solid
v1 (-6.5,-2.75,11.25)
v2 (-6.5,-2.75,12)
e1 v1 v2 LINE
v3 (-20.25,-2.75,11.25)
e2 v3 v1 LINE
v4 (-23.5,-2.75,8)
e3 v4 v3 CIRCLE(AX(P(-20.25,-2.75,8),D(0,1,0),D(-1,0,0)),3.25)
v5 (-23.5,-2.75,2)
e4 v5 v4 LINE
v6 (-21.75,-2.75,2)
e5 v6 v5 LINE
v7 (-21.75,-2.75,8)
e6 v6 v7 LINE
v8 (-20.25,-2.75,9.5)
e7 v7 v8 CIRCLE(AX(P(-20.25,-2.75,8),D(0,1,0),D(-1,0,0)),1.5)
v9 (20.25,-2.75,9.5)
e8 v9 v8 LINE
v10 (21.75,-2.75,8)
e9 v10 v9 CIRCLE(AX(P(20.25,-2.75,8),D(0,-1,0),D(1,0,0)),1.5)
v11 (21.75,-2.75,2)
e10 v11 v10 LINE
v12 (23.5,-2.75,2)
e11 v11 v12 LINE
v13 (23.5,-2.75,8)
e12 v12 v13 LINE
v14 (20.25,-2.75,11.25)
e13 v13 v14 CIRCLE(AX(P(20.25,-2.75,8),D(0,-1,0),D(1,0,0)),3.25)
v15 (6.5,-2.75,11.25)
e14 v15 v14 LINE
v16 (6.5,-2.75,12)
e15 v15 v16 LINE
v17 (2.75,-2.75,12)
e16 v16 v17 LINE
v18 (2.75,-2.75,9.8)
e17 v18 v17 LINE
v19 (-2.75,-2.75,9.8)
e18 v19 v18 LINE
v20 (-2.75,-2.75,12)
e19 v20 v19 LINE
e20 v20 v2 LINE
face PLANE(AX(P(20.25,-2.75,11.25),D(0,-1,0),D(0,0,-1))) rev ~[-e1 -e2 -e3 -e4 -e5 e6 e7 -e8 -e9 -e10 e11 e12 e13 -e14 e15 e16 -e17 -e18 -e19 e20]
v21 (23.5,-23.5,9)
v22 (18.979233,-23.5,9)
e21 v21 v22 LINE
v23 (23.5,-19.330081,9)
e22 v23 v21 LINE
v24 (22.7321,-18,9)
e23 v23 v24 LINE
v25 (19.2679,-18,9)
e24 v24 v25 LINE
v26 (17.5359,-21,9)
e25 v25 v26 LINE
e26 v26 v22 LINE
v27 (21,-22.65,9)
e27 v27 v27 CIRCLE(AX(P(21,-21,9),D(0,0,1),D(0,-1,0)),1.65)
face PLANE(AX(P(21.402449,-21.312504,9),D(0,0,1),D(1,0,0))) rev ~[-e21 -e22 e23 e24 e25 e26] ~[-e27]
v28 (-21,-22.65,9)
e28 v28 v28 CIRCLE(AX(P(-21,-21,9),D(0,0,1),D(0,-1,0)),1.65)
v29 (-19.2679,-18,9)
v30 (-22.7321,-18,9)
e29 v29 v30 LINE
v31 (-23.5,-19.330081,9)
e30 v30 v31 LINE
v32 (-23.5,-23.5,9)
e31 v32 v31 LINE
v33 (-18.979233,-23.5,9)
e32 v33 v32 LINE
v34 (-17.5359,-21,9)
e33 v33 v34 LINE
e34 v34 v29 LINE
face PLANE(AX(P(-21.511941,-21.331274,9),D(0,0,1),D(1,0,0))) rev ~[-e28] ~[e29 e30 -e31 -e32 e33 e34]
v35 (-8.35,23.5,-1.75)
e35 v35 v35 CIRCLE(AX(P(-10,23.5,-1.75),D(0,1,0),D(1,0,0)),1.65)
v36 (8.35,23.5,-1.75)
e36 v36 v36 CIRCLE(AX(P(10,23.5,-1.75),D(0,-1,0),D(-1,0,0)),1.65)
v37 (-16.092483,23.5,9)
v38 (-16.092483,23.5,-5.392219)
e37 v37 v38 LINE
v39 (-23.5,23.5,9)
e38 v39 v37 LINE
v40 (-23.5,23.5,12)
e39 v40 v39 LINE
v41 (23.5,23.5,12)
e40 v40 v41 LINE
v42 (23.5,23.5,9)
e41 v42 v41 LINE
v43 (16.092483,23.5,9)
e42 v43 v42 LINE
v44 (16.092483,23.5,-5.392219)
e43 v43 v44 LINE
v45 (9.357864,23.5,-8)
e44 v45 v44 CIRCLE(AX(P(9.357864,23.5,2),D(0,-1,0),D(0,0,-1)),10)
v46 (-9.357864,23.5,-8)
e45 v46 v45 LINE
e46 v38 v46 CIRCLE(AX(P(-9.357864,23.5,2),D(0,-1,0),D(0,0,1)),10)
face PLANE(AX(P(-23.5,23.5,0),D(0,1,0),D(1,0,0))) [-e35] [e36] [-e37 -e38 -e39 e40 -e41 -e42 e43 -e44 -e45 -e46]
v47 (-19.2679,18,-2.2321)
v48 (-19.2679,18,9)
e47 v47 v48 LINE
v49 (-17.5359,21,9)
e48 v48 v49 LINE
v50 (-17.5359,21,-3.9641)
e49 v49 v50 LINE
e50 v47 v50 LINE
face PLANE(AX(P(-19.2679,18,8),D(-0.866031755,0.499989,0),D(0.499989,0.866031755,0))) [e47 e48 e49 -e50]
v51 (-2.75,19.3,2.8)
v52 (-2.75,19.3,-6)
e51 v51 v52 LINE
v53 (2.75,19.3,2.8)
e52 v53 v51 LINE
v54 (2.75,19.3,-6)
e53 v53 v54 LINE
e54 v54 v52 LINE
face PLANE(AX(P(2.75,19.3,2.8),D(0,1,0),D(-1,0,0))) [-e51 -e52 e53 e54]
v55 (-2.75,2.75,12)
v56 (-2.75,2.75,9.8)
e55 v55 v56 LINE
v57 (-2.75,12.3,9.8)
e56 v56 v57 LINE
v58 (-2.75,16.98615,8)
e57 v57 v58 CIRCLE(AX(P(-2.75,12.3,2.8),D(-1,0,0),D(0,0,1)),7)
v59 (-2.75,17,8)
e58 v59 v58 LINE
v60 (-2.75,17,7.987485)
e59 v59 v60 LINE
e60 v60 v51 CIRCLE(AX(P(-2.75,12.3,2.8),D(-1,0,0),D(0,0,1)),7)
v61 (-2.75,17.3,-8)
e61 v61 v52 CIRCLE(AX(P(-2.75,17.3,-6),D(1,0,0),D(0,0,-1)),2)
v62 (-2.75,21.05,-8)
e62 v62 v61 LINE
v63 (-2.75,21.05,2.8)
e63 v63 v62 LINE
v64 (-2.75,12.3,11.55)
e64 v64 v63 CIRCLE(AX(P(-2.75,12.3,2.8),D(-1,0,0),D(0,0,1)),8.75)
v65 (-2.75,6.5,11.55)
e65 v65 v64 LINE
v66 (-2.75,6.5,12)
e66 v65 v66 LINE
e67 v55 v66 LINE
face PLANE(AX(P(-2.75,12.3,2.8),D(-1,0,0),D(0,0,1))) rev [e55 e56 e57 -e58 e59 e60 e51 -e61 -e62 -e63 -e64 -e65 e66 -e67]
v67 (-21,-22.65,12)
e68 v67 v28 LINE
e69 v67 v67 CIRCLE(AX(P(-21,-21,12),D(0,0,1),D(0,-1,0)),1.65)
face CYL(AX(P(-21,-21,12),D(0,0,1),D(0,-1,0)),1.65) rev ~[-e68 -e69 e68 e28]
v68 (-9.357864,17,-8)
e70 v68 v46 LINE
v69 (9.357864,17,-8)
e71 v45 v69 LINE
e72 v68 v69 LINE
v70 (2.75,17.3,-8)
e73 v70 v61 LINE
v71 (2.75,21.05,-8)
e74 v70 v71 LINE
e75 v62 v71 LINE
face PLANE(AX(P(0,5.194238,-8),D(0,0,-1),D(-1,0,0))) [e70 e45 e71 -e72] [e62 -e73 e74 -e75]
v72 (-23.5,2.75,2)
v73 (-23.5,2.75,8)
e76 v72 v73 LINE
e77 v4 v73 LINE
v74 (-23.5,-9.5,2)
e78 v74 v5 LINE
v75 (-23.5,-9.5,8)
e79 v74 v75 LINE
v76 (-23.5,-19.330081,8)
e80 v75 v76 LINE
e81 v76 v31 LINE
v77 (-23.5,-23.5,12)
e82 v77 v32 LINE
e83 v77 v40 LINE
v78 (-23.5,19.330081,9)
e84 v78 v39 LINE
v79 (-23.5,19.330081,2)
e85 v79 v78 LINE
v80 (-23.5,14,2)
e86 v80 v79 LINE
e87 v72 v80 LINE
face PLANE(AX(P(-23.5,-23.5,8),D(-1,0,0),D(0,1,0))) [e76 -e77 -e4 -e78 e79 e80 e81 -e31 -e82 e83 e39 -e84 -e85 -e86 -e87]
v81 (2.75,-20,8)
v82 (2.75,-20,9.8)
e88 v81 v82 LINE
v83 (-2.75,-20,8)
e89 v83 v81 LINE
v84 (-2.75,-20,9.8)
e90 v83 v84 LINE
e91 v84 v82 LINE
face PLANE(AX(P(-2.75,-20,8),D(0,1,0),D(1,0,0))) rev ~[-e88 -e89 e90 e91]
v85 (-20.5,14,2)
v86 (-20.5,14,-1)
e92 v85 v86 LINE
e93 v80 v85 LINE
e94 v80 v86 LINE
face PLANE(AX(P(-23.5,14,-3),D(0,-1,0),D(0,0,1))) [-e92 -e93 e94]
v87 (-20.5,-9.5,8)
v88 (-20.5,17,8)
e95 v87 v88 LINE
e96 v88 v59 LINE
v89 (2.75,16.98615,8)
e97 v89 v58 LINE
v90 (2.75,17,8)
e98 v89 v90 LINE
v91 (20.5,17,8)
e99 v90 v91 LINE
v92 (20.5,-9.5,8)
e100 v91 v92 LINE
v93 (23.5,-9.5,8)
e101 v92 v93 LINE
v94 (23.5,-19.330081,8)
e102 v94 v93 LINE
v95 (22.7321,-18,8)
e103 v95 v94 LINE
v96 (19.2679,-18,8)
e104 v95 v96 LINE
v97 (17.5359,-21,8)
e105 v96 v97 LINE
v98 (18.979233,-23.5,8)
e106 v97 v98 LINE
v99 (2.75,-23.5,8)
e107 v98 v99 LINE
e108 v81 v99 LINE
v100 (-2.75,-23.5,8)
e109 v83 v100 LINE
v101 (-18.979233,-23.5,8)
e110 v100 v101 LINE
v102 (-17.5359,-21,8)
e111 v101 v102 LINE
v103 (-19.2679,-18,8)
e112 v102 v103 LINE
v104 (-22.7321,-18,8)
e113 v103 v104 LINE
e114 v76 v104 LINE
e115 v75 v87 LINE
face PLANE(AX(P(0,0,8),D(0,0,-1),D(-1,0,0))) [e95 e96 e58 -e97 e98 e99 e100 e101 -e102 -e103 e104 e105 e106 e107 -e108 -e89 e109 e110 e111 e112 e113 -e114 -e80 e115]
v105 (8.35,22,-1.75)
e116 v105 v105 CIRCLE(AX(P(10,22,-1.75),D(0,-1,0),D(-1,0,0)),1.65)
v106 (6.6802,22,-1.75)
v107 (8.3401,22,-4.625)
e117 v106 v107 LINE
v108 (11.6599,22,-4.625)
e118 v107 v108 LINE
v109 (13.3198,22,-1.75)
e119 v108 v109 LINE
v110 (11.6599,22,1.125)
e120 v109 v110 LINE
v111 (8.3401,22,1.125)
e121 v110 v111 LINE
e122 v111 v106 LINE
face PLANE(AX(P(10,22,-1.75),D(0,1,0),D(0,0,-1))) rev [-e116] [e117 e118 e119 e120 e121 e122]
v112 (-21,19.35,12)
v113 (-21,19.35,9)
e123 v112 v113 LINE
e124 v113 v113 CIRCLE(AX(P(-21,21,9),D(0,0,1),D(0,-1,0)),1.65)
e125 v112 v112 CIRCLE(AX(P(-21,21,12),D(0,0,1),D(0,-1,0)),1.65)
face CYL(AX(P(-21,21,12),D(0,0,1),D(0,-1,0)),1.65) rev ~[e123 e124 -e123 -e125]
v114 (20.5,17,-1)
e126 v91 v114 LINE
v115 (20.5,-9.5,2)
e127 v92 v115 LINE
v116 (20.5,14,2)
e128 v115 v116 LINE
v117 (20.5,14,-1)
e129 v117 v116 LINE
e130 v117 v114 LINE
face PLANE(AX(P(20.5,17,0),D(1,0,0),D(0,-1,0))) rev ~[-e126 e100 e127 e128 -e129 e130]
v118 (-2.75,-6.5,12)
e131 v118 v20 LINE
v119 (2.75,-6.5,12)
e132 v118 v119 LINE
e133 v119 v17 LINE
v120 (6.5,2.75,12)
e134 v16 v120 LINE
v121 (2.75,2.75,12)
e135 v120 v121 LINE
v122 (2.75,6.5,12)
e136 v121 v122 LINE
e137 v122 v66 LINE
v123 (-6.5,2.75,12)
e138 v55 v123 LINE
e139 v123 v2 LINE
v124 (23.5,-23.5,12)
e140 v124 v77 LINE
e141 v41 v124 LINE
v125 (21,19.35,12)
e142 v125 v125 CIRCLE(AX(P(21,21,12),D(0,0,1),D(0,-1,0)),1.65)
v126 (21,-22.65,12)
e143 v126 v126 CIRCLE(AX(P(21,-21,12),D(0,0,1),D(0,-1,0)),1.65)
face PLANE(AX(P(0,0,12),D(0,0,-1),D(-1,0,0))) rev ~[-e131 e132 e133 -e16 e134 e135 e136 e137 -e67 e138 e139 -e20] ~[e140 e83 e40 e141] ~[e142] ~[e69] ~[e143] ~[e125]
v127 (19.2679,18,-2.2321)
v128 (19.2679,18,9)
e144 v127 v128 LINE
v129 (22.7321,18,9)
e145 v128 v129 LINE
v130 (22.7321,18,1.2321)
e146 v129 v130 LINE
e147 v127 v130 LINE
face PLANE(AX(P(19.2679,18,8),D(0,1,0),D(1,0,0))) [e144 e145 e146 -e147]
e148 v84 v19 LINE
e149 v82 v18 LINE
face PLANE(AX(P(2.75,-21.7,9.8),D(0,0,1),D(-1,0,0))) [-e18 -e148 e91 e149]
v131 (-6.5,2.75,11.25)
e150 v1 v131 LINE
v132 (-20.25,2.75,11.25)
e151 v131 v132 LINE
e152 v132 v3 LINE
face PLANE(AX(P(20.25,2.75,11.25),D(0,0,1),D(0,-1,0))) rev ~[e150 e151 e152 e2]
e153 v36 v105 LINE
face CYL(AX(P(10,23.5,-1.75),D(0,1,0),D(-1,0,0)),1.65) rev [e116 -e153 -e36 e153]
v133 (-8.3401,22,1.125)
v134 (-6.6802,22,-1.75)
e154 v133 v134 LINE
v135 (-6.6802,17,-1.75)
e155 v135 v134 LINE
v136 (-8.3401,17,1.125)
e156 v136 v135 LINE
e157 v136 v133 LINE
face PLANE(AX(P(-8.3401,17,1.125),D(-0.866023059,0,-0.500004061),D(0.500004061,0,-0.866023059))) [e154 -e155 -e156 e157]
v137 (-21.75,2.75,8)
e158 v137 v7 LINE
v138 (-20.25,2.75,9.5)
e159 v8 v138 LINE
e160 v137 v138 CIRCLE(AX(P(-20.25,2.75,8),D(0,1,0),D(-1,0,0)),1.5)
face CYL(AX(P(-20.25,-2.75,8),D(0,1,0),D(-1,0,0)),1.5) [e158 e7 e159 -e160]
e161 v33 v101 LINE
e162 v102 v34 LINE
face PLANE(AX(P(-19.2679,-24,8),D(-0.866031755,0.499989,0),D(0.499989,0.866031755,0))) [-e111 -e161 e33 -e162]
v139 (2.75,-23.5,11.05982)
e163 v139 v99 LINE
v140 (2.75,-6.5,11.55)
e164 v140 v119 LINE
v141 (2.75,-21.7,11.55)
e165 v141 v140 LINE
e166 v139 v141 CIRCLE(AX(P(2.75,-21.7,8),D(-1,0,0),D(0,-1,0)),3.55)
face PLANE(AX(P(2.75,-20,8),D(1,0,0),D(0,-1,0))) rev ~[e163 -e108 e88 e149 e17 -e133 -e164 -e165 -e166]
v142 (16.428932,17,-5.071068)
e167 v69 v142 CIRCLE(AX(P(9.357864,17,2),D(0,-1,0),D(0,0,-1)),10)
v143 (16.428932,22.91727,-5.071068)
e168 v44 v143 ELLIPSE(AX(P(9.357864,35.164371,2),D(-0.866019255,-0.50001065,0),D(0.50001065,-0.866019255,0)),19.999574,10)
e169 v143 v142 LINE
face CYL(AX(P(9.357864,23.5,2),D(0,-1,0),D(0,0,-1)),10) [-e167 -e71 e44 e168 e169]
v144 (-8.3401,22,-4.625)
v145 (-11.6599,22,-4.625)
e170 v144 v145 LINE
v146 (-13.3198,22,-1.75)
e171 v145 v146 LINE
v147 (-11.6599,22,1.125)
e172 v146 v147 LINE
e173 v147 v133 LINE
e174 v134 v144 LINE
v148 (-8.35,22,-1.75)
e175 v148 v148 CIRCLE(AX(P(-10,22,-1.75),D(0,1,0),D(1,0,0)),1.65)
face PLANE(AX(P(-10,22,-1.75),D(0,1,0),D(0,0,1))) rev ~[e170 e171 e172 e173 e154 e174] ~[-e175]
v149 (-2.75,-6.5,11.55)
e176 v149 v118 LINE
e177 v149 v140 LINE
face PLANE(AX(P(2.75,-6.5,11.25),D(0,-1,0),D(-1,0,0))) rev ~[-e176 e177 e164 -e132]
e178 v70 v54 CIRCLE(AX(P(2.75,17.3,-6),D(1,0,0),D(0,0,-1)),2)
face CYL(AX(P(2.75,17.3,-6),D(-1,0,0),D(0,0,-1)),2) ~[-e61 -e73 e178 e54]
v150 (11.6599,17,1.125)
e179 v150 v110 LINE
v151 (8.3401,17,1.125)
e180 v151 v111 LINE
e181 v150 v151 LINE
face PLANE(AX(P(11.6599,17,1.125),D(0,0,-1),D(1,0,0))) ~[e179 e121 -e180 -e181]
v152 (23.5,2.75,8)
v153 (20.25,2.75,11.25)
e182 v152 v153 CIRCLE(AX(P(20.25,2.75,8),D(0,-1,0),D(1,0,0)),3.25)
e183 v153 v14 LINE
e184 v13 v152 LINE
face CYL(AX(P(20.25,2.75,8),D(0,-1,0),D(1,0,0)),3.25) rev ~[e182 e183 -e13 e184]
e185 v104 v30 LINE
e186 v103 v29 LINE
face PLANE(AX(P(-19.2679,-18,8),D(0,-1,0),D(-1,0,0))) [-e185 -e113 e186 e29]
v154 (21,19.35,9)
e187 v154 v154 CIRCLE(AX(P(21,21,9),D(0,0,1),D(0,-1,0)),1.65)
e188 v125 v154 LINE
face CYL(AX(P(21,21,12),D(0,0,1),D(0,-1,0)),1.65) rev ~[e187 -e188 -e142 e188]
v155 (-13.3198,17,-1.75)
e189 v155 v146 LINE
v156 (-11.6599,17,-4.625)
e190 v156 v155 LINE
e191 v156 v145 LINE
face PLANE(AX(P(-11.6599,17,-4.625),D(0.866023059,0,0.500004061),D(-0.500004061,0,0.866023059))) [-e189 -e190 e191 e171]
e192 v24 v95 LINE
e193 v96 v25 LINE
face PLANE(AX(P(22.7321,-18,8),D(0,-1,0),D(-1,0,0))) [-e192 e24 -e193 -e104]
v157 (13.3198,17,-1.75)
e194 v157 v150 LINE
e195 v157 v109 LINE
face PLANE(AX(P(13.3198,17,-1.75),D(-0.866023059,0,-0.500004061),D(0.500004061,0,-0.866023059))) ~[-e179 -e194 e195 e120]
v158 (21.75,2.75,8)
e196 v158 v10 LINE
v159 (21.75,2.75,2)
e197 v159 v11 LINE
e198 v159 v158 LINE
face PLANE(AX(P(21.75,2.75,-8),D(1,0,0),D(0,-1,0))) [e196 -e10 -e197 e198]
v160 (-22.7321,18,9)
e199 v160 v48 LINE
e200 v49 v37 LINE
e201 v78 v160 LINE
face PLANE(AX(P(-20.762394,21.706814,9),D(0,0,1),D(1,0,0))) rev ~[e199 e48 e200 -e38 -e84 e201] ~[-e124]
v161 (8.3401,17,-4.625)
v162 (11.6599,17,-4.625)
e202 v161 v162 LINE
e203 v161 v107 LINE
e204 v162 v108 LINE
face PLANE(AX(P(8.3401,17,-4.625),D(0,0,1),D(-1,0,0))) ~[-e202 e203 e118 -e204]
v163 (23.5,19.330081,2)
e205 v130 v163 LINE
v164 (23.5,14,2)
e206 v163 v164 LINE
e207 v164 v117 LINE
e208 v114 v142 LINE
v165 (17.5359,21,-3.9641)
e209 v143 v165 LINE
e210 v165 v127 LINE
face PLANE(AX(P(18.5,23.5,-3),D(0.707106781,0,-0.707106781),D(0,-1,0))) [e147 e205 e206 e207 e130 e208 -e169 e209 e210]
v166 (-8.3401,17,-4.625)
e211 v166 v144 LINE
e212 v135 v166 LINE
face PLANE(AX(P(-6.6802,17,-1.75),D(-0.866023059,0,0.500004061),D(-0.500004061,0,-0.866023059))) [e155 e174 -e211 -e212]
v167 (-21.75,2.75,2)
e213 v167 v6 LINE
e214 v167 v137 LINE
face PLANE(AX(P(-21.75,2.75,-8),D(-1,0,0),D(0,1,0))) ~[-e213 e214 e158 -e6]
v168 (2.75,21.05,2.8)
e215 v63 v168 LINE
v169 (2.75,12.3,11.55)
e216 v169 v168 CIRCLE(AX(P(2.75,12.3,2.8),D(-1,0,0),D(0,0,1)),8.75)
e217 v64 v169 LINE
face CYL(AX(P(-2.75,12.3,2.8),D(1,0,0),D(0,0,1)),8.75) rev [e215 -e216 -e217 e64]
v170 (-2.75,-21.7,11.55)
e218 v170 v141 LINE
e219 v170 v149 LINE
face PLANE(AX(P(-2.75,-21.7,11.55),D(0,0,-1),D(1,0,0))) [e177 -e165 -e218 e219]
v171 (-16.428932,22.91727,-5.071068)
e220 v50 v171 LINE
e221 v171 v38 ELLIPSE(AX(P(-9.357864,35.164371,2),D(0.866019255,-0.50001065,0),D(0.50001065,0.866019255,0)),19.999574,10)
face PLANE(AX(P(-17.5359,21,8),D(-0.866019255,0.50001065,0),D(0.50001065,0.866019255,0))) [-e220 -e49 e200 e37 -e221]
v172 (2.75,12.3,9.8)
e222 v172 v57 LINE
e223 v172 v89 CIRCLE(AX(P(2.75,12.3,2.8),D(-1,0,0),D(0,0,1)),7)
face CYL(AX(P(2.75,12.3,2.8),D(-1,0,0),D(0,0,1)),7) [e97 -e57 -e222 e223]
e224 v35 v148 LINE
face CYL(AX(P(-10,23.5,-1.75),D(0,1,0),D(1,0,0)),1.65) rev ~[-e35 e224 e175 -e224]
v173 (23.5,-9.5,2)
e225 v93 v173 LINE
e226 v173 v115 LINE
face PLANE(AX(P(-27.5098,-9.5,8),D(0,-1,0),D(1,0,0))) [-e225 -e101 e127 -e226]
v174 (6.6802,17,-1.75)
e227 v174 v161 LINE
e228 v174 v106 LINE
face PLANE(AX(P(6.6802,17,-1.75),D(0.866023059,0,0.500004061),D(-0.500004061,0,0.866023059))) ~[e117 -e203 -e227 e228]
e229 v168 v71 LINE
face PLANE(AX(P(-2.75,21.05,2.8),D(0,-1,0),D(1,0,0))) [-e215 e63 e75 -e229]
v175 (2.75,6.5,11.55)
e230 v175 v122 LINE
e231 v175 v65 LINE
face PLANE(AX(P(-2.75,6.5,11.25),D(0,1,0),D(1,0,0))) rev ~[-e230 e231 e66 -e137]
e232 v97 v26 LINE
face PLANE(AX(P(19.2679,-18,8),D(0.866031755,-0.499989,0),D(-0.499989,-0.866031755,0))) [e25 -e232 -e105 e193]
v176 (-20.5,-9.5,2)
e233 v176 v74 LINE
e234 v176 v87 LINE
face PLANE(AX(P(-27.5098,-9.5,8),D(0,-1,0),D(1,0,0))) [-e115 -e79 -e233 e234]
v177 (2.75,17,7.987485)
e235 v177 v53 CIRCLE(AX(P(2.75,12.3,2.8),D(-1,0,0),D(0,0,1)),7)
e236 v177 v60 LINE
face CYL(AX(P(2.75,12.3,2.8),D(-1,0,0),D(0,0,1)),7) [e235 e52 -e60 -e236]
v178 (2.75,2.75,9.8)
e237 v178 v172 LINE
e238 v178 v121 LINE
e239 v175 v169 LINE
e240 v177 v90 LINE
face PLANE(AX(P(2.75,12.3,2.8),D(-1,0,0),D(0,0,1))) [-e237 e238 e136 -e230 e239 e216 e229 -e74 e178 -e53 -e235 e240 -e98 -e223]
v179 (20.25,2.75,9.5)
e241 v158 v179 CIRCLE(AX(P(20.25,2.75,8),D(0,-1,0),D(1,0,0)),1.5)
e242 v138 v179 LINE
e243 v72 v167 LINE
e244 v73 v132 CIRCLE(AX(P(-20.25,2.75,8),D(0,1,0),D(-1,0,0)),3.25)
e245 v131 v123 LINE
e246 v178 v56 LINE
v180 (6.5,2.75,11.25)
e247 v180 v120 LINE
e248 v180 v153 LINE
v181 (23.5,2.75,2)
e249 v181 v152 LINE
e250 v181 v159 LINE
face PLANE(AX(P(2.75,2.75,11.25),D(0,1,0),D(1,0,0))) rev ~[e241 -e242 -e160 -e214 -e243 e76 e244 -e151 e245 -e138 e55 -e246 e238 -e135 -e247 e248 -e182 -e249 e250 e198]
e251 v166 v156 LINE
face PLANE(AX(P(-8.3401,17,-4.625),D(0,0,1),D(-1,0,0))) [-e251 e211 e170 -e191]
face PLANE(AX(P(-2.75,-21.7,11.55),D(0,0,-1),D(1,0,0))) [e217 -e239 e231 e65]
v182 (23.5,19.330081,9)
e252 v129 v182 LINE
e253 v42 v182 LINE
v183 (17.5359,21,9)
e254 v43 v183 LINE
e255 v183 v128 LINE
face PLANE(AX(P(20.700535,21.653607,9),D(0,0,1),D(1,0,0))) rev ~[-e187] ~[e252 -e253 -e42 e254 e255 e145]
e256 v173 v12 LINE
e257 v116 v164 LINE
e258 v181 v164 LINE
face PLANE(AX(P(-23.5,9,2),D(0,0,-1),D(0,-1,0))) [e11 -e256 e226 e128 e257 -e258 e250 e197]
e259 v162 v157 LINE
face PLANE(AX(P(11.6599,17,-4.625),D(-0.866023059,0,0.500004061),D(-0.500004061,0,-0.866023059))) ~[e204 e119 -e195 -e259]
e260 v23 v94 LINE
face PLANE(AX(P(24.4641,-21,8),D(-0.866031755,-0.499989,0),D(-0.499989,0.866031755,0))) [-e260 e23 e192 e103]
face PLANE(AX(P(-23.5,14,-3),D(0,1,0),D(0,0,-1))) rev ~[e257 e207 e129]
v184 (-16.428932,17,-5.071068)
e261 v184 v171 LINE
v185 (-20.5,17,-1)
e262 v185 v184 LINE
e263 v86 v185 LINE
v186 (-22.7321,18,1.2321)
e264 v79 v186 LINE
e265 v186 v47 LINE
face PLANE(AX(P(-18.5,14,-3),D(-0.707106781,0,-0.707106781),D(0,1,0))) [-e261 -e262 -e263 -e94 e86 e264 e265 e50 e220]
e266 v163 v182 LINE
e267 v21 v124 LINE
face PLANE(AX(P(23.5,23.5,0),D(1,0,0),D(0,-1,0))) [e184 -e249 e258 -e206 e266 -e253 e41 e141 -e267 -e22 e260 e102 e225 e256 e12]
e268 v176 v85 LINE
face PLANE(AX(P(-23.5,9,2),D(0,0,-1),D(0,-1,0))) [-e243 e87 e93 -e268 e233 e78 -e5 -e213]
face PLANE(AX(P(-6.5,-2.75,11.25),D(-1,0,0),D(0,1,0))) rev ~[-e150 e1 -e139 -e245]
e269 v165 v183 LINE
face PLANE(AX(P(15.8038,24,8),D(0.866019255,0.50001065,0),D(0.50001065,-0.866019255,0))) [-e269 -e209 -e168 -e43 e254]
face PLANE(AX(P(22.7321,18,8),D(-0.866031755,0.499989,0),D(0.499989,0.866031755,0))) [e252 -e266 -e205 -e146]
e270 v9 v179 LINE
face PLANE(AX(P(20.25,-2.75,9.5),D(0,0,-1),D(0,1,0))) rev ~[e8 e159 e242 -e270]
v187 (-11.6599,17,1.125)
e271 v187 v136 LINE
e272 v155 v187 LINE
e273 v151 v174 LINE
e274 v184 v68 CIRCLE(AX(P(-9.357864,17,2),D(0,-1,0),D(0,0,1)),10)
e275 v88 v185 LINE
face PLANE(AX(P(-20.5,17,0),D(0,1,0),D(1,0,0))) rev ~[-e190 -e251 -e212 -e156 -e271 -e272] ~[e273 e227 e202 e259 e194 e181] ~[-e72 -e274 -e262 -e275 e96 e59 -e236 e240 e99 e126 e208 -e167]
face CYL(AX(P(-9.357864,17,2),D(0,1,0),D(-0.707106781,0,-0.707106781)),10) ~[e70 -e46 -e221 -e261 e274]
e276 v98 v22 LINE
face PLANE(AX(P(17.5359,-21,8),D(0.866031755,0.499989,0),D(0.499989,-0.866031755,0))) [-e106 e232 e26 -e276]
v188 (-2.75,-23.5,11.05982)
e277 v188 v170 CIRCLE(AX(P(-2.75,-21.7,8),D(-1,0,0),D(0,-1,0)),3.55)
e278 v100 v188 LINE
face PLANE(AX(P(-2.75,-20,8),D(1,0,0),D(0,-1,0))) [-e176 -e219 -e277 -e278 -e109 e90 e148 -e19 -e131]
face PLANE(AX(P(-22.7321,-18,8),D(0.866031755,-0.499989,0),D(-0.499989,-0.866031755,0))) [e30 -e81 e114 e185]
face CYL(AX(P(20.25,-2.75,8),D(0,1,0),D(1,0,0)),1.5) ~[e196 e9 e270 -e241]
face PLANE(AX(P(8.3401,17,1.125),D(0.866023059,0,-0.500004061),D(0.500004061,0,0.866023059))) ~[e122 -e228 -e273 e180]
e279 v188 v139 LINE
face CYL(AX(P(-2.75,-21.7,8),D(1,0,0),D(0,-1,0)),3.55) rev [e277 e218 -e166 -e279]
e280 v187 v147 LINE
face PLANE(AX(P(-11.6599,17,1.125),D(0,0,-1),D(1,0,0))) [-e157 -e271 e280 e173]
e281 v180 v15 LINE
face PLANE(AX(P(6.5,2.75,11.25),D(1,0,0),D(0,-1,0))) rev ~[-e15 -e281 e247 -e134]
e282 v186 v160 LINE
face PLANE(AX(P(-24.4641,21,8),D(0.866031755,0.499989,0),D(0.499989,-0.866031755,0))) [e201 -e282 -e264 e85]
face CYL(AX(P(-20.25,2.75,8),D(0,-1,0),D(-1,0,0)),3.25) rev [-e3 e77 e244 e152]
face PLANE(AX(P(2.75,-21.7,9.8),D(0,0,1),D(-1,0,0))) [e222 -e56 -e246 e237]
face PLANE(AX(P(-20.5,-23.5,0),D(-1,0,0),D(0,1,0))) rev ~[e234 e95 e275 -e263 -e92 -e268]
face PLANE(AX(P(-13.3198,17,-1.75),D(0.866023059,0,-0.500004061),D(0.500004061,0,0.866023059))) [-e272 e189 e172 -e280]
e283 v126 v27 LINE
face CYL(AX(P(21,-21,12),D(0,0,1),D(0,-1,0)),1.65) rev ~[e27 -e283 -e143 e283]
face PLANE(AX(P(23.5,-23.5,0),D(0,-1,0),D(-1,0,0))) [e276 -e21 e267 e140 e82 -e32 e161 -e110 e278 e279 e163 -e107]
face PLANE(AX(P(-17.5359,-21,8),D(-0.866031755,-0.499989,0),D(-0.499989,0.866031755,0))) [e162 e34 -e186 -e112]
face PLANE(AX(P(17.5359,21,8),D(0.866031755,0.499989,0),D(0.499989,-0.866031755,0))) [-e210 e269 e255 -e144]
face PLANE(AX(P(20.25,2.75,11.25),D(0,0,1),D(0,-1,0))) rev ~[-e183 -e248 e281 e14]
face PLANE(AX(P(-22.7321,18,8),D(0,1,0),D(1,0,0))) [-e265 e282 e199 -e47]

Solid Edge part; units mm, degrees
sketch "Sketch1" plane through (0, 0, 0) normal (0, 0, 1) x (1, 0, 0)
  line L0 (23.5, -23.5) -> (20.5, -23.5)
  line L1 (20.5, 17) -> (20.5, -23.5)
  line L2 (-20.5, 17) -> (20.5, 17)
  line L3 (-20.5, -23.5) -> (-20.5, 17)
  line L4 (-20.5, -23.5) -> (-23.5, -23.5)
  line L5 (-23.5, -23.5) -> (-23.5, 23.5)
  line L6 (-23.5, 23.5) -> (23.5, 23.5)
  line L7 (23.5, 23.5) -> (23.5, -23.5)
  dimension "D1" = 41
  dimension "D2" = 40.5
  dimension "D3" = 47
  dimension "D4" = 47
  dimension "D5" = 3
  dimension "D6" = 3
extrude "ProtrusiónExtruida_1" add sketch "Sketch1" along normal mid plane 16
sketch "Sketch2" plane through (0, 0, 8) normal (0, 0, 1) x (1, 0, 0)
  line L0 (23.5, -23.5) -> (-23.5, -23.5)
  line L1 (-23.5, -23.5) -> (-23.5, 23.5)
  line L2 (-23.5, 23.5) -> (23.5, 23.5)
  line L3 (23.5, 23.5) -> (23.5, -23.5)
extrude "Protrusion1" add sketch "Sketch2" along normal blind 4
sketch "Sketch3" plane through (-23.5, 0, -2.5) normal (-1, 0, 0) x (0, 1, 0)
  line L0 (14, -4.5) -> (9, -4.5)
  line L1 (14, 0.5) -> (14, -4.5)
  dimension "D1" = 5
  dimension "D2" = 3
extrude "Cutout1" cut sketch "Sketch3" against normal through all material side at (-23.5, 11.5, 1.95)
sketch "Sketch4" plane through (0, 17, 0) normal (0, -1, 0) x (-1, 0, 0)
  line L0 (8.3401, 4.625) -> (11.6599, 4.625)
  line L1 (11.6599, 4.625) -> (13.3198, 1.75)
  line L2 (13.3198, 1.75) -> (11.6599, -1.125)
  line L3 (11.6599, -1.125) -> (8.3401, -1.125)
  line L4 (8.3401, -1.125) -> (6.6802, 1.75)
  line L5 (6.6802, 1.75) -> (8.3401, 4.625)
  dimension "D1" = 5.75
  dimension "D2" = 5.75
  dimension "D3" = 5.75
  dimension "D4" = 10.5
  dimension "D5" = 9.75
extrude "VaciadoExtruido_18" cut sketch "Sketch4" against normal blind 5
sketch "Sketch5" plane through (0, 23.5, -2.5) normal (0, 1, 0) x (1, 0, 0)
  circle A0 centre (-10, -0.75) radius 1.65
  dimension "D1" = 10.5
  dimension "D2" = 9.75
extrude "Cutout2" cut sketch "Sketch5" against normal up to next
chamfer "Chaflán_1" distance 10 angle 45 2 edges at (-23.5, 18.75, -8) (23.5, 18.75, -8)
fillet "Redondeo_5" radius 10 2 edges at (-13.5, 20.25, -8) (13.5, 20.25, -8)
sketch "Sketch6" plane through (0, -4.5, 8) normal (0, 0, -1) x (-1, 0, 0)
  line L0 (-22.7321, -13.5) -> (-19.2679, -13.5)
  line L1 (-19.2679, -13.5) -> (-17.5359, -16.5)
  line L2 (-17.5359, -16.5) -> (-19.2679, -19.5)
  line L3 (-19.2679, -19.5) -> (-22.7321, -19.5)
  line L4 (-24.8409, -19.8273) -> (-22.7321, -19.5)
  line L5 (-24.4641, -16.5) -> (-24.8409, -19.8273)
  line L6 (-24.4641, -16.5) -> (-22.7321, -13.5)
  line L7 (19.2679, -13.5) -> (22.7321, -13.5)
  line L8 (22.7321, -13.5) -> (24.4641, -16.5)
  line L9 (25.4467, -19.5) -> (24.4641, -16.5)
  line L10 (22.7321, -19.5) -> (25.4467, -19.5)
  line L11 (22.7321, -19.5) -> (19.2679, -19.5)
  line L12 (19.2679, -19.5) -> (17.5359, -16.5)
  line L13 (17.5359, -16.5) -> (19.2679, -13.5)
  line L14 (19.2679, 28.5) -> (22.7321, 28.5)
  line L15 (22.7321, 28.5) -> (25.2223, 28.8412)
  line L16 (25.2223, 28.8412) -> (24.4641, 25.5)
  line L17 (24.4641, 25.5) -> (22.7321, 22.5)
  line L18 (22.7321, 22.5) -> (19.2679, 22.5)
  line L19 (19.2679, 22.5) -> (17.5359, 25.5)
  line L20 (17.5359, 25.5) -> (15.8038, 28.5)
  line L21 (15.8038, 28.5) -> (19.2679, 28.5)
  line L22 (-22.7321, 28.5) -> (-19.2679, 28.5)
  line L23 (-19.2679, 28.5) -> (-15.8038, 28.5)
  line L24 (-15.8038, 28.5) -> (-17.5359, 25.5)
  line L25 (-17.5359, 25.5) -> (-19.2679, 22.5)
  line L26 (-19.2679, 22.5) -> (-22.7321, 22.5)
  line L27 (-22.7321, 22.5) -> (-24.4641, 25.5)
  line L28 (-25.1936, 28.5) -> (-24.4641, 25.5)
  line L29 (-22.7321, 28.5) -> (-25.1936, 28.5)
  dimension "D1" = 6
  dimension "D2" = 6
  dimension "D3" = 21
  dimension "D4" = 21
  dimension "D5" = 6
  dimension "D6" = 6
  dimension "D7" = 6
  dimension "D8" = 6
  dimension "D9" = 6
  dimension "D10" = 6
  dimension "D11" = 21
  dimension "D12" = 21
  dimension "D13" = 21
  dimension "D14" = 21
  dimension "D15" = 21
  dimension "D16" = 21
extrude "VaciadoExtruido_32" cut sketch "Sketch6" against normal blind 1 and the other way up to next
sketch "Sketch7" plane through (9, -9, 12) normal (0, 0, 1) x (0, -1, 0)
  circle A0 centre (-30, -30) radius 1.65
  circle A1 centre (12, -30) radius 1.65
  circle A2 centre (12, 12) radius 1.65
  circle A3 centre (-30, 12) radius 1.65
  dimension "D1" = 21
  dimension "D2" = 21
  dimension "D3" = 21
  dimension "D4" = 21
extrude "Cutout3" cut sketch "Sketch7" against normal up to next
sketch "Sketch8" plane through (0, -4.5, 8) normal (0, 0, -1) x (-1, 0, 0)
  line L0 (-2.75, -19) -> (2.75, -19)
  line L1 (2.75, -19) -> (2.75, -20.75)
  line L2 (2.75, -20.75) -> (-2.75, -20.75)
  line L3 (-2.75, -20.75) -> (-2.75, -19)
  dimension "D1" = 5.5
  dimension "D2" = 1.75
  dimension "D3" = 1.8
revolve "VaciadoPorRevolución_1" cut sketch "Sketch8" angle 90 about axis through (4.4935, -21.7, 8) along (-1, 0, 0)
sketch "Sketch9" plane through (0, -21.7, 11.25) normal (0, -1, 0) x (-1, 0, 0)
  line L0 (-2.75, 1.45) -> (2.75, 1.45)
  line L1 (2.75, 1.45) -> (2.75, -0.3)
  line L2 (2.75, -0.3) -> (-2.75, -0.3)
  line L3 (-2.75, -0.3) -> (-2.75, 1.45)
extrude "VaciadoExtruido_34" cut sketch "Sketch9" against normal blind 34
sketch "Sketch10" plane through (0, 12.3, 11.25) normal (0, -1, 0) x (-1, 0, 0)
  line L0 (-2.75, -0.3) -> (-2.75, 1.45)
  line L1 (-2.75, 1.45) -> (2.75, 1.45)
  line L2 (2.75, 1.45) -> (2.75, -0.3)
  line L3 (2.75, -0.3) -> (-2.75, -0.3)
revolve "RevolvedCutout1" cut sketch "Sketch10" angle 90 about axis through (2.8162, 12.3, 2.8) along (-1, 0, 0)
sketch "Sketch11" plane through (0, 18.25, 2.8) normal (0, 0, 1) x (1, 0, 0)
  line L0 (2.75, 1.05) -> (-2.75, 1.05)
  line L1 (-2.75, 1.05) -> (-2.75, 2.8)
  line L2 (-2.75, 2.8) -> (2.75, 2.8)
  line L3 (2.75, 2.8) -> (2.75, 1.05)
extrude "Cutout4" cut sketch "Sketch11" against normal up to next
fillet "Redondeo_6" radius 2 1 edges at (0, 19.3, -8)
sketch "Sketch12" plane through (22, -2, -8) normal (0, 0, -1) x (0, -1, 0)
  line L0 (-4.75, 0.25) -> (0.75, 0.25)
  line L1 (0.75, 0.25) -> (0.75, -1.5)
  line L2 (0.75, -1.5) -> (-4.75, -1.5)
  line L3 (-4.75, -1.5) -> (-4.75, 0.25)
  dimension "D1" = 5.5
  dimension "D2" = 1.75
extrude "Cutout5" cut sketch "Sketch12" against normal up to surface (16 mm away)
sketch "Sketch13" plane through (22.75, 0, 8) normal (0, 0, -1) x (-1, 0, 0)
  line L0 (1, 2.75) -> (-0.75, 2.75)
  line L1 (-0.75, 2.75) -> (-0.75, -2.75)
  line L2 (-0.75, -2.75) -> (1, -2.75)
  line L3 (1, -2.75) -> (1, 2.75)
  dimension "D1" = 1.5
revolve "VaciadoPorRevolución_3" cut sketch "Sketch13" angle 90 about axis through (20.25, 2.6731, 8) along (0, -1, 0)
sketch "Sketch14" plane through (20.25, 0, 11.25) normal (1, 0, 0) x (0, -1, 0)
  line L0 (-2.75, 1.75) -> (-2.75, 0)
  line L1 (-2.75, 0) -> (2.75, 0)
  line L2 (2.75, 0) -> (2.75, 1.75)
  line L3 (2.75, 1.75) -> (-2.75, 1.75)
extrude "VaciadoExtruido_37" cut sketch "Sketch14" against normal blind 33
mirror "Mirror1" about plane through (0, 0, 0) normal (1, 0, 0) of "Cutout2", "VaciadoExtruido_18", "Cutout5", "VaciadoPorRevolución_3", "VaciadoExtruido_37"
sketch "Sketch15" plane through (0, -4.5, 8) normal (0, 0, -1) x (0, -1, 0)
  line L0 (5, 27.5098) -> (5, -27.4354)
  dimension "D1" = 26.5
extrude "Cutout10" cut sketch "Sketch15" along normal through all material side at (-0.0372, -9.55, 8)
sketch "Sketch16" plane through (0, -4, 11.25) normal (0, 0, -1) x (-1, 0, 0)
  line L0 (-2.75, 1.25) -> (-2.75, -2.5)
  line L1 (-2.75, -2.5) -> (2.75, -2.5)
  line L2 (2.75, 1.25) -> (2.75, -2.5)
  line L3 (6.5, 1.25) -> (2.75, 1.25)
  line L4 (6.5, 1.25) -> (6.5, 6.75)
  line L5 (6.5, 6.75) -> (2.75, 6.75)
  line L6 (2.75, 10.5) -> (2.75, 6.75)
  line L7 (2.75, 10.5) -> (-2.75, 10.5)
  line L8 (-2.75, 10.5) -> (-2.75, 6.75)
  line L9 (-2.75, 6.75) -> (-6.5, 6.75)
  line L10 (-6.5, 6.75) -> (-6.5, 1.25)
  line L11 (-2.75, 1.25) -> (-6.5, 1.25)
  dimension "D1" = 13
  dimension "D2" = 6.5
  dimension "D3" = 6.5
  dimension "D4" = 13
extrude "Cutout11" cut sketch "Sketch16" against normal up to next
sketch "Sketch17" plane through (0, -3.25, 8) normal (0, 0, -1) x (1, 0, 0)
  line L0 (-2.75, 16.75) -> (2.75, 16.75)
  line L1 (2.75, 16.75) -> (2.75, 20.25)
  line L2 (2.75, 20.25) -> (-2.75, 20.25)
  line L3 (-2.75, 16.75) -> (-2.75, 20.25)
  dimension "D1" = 37
extrude "Cutout12" cut sketch "Sketch17" against normal up to next
properties material "Abs 15"
